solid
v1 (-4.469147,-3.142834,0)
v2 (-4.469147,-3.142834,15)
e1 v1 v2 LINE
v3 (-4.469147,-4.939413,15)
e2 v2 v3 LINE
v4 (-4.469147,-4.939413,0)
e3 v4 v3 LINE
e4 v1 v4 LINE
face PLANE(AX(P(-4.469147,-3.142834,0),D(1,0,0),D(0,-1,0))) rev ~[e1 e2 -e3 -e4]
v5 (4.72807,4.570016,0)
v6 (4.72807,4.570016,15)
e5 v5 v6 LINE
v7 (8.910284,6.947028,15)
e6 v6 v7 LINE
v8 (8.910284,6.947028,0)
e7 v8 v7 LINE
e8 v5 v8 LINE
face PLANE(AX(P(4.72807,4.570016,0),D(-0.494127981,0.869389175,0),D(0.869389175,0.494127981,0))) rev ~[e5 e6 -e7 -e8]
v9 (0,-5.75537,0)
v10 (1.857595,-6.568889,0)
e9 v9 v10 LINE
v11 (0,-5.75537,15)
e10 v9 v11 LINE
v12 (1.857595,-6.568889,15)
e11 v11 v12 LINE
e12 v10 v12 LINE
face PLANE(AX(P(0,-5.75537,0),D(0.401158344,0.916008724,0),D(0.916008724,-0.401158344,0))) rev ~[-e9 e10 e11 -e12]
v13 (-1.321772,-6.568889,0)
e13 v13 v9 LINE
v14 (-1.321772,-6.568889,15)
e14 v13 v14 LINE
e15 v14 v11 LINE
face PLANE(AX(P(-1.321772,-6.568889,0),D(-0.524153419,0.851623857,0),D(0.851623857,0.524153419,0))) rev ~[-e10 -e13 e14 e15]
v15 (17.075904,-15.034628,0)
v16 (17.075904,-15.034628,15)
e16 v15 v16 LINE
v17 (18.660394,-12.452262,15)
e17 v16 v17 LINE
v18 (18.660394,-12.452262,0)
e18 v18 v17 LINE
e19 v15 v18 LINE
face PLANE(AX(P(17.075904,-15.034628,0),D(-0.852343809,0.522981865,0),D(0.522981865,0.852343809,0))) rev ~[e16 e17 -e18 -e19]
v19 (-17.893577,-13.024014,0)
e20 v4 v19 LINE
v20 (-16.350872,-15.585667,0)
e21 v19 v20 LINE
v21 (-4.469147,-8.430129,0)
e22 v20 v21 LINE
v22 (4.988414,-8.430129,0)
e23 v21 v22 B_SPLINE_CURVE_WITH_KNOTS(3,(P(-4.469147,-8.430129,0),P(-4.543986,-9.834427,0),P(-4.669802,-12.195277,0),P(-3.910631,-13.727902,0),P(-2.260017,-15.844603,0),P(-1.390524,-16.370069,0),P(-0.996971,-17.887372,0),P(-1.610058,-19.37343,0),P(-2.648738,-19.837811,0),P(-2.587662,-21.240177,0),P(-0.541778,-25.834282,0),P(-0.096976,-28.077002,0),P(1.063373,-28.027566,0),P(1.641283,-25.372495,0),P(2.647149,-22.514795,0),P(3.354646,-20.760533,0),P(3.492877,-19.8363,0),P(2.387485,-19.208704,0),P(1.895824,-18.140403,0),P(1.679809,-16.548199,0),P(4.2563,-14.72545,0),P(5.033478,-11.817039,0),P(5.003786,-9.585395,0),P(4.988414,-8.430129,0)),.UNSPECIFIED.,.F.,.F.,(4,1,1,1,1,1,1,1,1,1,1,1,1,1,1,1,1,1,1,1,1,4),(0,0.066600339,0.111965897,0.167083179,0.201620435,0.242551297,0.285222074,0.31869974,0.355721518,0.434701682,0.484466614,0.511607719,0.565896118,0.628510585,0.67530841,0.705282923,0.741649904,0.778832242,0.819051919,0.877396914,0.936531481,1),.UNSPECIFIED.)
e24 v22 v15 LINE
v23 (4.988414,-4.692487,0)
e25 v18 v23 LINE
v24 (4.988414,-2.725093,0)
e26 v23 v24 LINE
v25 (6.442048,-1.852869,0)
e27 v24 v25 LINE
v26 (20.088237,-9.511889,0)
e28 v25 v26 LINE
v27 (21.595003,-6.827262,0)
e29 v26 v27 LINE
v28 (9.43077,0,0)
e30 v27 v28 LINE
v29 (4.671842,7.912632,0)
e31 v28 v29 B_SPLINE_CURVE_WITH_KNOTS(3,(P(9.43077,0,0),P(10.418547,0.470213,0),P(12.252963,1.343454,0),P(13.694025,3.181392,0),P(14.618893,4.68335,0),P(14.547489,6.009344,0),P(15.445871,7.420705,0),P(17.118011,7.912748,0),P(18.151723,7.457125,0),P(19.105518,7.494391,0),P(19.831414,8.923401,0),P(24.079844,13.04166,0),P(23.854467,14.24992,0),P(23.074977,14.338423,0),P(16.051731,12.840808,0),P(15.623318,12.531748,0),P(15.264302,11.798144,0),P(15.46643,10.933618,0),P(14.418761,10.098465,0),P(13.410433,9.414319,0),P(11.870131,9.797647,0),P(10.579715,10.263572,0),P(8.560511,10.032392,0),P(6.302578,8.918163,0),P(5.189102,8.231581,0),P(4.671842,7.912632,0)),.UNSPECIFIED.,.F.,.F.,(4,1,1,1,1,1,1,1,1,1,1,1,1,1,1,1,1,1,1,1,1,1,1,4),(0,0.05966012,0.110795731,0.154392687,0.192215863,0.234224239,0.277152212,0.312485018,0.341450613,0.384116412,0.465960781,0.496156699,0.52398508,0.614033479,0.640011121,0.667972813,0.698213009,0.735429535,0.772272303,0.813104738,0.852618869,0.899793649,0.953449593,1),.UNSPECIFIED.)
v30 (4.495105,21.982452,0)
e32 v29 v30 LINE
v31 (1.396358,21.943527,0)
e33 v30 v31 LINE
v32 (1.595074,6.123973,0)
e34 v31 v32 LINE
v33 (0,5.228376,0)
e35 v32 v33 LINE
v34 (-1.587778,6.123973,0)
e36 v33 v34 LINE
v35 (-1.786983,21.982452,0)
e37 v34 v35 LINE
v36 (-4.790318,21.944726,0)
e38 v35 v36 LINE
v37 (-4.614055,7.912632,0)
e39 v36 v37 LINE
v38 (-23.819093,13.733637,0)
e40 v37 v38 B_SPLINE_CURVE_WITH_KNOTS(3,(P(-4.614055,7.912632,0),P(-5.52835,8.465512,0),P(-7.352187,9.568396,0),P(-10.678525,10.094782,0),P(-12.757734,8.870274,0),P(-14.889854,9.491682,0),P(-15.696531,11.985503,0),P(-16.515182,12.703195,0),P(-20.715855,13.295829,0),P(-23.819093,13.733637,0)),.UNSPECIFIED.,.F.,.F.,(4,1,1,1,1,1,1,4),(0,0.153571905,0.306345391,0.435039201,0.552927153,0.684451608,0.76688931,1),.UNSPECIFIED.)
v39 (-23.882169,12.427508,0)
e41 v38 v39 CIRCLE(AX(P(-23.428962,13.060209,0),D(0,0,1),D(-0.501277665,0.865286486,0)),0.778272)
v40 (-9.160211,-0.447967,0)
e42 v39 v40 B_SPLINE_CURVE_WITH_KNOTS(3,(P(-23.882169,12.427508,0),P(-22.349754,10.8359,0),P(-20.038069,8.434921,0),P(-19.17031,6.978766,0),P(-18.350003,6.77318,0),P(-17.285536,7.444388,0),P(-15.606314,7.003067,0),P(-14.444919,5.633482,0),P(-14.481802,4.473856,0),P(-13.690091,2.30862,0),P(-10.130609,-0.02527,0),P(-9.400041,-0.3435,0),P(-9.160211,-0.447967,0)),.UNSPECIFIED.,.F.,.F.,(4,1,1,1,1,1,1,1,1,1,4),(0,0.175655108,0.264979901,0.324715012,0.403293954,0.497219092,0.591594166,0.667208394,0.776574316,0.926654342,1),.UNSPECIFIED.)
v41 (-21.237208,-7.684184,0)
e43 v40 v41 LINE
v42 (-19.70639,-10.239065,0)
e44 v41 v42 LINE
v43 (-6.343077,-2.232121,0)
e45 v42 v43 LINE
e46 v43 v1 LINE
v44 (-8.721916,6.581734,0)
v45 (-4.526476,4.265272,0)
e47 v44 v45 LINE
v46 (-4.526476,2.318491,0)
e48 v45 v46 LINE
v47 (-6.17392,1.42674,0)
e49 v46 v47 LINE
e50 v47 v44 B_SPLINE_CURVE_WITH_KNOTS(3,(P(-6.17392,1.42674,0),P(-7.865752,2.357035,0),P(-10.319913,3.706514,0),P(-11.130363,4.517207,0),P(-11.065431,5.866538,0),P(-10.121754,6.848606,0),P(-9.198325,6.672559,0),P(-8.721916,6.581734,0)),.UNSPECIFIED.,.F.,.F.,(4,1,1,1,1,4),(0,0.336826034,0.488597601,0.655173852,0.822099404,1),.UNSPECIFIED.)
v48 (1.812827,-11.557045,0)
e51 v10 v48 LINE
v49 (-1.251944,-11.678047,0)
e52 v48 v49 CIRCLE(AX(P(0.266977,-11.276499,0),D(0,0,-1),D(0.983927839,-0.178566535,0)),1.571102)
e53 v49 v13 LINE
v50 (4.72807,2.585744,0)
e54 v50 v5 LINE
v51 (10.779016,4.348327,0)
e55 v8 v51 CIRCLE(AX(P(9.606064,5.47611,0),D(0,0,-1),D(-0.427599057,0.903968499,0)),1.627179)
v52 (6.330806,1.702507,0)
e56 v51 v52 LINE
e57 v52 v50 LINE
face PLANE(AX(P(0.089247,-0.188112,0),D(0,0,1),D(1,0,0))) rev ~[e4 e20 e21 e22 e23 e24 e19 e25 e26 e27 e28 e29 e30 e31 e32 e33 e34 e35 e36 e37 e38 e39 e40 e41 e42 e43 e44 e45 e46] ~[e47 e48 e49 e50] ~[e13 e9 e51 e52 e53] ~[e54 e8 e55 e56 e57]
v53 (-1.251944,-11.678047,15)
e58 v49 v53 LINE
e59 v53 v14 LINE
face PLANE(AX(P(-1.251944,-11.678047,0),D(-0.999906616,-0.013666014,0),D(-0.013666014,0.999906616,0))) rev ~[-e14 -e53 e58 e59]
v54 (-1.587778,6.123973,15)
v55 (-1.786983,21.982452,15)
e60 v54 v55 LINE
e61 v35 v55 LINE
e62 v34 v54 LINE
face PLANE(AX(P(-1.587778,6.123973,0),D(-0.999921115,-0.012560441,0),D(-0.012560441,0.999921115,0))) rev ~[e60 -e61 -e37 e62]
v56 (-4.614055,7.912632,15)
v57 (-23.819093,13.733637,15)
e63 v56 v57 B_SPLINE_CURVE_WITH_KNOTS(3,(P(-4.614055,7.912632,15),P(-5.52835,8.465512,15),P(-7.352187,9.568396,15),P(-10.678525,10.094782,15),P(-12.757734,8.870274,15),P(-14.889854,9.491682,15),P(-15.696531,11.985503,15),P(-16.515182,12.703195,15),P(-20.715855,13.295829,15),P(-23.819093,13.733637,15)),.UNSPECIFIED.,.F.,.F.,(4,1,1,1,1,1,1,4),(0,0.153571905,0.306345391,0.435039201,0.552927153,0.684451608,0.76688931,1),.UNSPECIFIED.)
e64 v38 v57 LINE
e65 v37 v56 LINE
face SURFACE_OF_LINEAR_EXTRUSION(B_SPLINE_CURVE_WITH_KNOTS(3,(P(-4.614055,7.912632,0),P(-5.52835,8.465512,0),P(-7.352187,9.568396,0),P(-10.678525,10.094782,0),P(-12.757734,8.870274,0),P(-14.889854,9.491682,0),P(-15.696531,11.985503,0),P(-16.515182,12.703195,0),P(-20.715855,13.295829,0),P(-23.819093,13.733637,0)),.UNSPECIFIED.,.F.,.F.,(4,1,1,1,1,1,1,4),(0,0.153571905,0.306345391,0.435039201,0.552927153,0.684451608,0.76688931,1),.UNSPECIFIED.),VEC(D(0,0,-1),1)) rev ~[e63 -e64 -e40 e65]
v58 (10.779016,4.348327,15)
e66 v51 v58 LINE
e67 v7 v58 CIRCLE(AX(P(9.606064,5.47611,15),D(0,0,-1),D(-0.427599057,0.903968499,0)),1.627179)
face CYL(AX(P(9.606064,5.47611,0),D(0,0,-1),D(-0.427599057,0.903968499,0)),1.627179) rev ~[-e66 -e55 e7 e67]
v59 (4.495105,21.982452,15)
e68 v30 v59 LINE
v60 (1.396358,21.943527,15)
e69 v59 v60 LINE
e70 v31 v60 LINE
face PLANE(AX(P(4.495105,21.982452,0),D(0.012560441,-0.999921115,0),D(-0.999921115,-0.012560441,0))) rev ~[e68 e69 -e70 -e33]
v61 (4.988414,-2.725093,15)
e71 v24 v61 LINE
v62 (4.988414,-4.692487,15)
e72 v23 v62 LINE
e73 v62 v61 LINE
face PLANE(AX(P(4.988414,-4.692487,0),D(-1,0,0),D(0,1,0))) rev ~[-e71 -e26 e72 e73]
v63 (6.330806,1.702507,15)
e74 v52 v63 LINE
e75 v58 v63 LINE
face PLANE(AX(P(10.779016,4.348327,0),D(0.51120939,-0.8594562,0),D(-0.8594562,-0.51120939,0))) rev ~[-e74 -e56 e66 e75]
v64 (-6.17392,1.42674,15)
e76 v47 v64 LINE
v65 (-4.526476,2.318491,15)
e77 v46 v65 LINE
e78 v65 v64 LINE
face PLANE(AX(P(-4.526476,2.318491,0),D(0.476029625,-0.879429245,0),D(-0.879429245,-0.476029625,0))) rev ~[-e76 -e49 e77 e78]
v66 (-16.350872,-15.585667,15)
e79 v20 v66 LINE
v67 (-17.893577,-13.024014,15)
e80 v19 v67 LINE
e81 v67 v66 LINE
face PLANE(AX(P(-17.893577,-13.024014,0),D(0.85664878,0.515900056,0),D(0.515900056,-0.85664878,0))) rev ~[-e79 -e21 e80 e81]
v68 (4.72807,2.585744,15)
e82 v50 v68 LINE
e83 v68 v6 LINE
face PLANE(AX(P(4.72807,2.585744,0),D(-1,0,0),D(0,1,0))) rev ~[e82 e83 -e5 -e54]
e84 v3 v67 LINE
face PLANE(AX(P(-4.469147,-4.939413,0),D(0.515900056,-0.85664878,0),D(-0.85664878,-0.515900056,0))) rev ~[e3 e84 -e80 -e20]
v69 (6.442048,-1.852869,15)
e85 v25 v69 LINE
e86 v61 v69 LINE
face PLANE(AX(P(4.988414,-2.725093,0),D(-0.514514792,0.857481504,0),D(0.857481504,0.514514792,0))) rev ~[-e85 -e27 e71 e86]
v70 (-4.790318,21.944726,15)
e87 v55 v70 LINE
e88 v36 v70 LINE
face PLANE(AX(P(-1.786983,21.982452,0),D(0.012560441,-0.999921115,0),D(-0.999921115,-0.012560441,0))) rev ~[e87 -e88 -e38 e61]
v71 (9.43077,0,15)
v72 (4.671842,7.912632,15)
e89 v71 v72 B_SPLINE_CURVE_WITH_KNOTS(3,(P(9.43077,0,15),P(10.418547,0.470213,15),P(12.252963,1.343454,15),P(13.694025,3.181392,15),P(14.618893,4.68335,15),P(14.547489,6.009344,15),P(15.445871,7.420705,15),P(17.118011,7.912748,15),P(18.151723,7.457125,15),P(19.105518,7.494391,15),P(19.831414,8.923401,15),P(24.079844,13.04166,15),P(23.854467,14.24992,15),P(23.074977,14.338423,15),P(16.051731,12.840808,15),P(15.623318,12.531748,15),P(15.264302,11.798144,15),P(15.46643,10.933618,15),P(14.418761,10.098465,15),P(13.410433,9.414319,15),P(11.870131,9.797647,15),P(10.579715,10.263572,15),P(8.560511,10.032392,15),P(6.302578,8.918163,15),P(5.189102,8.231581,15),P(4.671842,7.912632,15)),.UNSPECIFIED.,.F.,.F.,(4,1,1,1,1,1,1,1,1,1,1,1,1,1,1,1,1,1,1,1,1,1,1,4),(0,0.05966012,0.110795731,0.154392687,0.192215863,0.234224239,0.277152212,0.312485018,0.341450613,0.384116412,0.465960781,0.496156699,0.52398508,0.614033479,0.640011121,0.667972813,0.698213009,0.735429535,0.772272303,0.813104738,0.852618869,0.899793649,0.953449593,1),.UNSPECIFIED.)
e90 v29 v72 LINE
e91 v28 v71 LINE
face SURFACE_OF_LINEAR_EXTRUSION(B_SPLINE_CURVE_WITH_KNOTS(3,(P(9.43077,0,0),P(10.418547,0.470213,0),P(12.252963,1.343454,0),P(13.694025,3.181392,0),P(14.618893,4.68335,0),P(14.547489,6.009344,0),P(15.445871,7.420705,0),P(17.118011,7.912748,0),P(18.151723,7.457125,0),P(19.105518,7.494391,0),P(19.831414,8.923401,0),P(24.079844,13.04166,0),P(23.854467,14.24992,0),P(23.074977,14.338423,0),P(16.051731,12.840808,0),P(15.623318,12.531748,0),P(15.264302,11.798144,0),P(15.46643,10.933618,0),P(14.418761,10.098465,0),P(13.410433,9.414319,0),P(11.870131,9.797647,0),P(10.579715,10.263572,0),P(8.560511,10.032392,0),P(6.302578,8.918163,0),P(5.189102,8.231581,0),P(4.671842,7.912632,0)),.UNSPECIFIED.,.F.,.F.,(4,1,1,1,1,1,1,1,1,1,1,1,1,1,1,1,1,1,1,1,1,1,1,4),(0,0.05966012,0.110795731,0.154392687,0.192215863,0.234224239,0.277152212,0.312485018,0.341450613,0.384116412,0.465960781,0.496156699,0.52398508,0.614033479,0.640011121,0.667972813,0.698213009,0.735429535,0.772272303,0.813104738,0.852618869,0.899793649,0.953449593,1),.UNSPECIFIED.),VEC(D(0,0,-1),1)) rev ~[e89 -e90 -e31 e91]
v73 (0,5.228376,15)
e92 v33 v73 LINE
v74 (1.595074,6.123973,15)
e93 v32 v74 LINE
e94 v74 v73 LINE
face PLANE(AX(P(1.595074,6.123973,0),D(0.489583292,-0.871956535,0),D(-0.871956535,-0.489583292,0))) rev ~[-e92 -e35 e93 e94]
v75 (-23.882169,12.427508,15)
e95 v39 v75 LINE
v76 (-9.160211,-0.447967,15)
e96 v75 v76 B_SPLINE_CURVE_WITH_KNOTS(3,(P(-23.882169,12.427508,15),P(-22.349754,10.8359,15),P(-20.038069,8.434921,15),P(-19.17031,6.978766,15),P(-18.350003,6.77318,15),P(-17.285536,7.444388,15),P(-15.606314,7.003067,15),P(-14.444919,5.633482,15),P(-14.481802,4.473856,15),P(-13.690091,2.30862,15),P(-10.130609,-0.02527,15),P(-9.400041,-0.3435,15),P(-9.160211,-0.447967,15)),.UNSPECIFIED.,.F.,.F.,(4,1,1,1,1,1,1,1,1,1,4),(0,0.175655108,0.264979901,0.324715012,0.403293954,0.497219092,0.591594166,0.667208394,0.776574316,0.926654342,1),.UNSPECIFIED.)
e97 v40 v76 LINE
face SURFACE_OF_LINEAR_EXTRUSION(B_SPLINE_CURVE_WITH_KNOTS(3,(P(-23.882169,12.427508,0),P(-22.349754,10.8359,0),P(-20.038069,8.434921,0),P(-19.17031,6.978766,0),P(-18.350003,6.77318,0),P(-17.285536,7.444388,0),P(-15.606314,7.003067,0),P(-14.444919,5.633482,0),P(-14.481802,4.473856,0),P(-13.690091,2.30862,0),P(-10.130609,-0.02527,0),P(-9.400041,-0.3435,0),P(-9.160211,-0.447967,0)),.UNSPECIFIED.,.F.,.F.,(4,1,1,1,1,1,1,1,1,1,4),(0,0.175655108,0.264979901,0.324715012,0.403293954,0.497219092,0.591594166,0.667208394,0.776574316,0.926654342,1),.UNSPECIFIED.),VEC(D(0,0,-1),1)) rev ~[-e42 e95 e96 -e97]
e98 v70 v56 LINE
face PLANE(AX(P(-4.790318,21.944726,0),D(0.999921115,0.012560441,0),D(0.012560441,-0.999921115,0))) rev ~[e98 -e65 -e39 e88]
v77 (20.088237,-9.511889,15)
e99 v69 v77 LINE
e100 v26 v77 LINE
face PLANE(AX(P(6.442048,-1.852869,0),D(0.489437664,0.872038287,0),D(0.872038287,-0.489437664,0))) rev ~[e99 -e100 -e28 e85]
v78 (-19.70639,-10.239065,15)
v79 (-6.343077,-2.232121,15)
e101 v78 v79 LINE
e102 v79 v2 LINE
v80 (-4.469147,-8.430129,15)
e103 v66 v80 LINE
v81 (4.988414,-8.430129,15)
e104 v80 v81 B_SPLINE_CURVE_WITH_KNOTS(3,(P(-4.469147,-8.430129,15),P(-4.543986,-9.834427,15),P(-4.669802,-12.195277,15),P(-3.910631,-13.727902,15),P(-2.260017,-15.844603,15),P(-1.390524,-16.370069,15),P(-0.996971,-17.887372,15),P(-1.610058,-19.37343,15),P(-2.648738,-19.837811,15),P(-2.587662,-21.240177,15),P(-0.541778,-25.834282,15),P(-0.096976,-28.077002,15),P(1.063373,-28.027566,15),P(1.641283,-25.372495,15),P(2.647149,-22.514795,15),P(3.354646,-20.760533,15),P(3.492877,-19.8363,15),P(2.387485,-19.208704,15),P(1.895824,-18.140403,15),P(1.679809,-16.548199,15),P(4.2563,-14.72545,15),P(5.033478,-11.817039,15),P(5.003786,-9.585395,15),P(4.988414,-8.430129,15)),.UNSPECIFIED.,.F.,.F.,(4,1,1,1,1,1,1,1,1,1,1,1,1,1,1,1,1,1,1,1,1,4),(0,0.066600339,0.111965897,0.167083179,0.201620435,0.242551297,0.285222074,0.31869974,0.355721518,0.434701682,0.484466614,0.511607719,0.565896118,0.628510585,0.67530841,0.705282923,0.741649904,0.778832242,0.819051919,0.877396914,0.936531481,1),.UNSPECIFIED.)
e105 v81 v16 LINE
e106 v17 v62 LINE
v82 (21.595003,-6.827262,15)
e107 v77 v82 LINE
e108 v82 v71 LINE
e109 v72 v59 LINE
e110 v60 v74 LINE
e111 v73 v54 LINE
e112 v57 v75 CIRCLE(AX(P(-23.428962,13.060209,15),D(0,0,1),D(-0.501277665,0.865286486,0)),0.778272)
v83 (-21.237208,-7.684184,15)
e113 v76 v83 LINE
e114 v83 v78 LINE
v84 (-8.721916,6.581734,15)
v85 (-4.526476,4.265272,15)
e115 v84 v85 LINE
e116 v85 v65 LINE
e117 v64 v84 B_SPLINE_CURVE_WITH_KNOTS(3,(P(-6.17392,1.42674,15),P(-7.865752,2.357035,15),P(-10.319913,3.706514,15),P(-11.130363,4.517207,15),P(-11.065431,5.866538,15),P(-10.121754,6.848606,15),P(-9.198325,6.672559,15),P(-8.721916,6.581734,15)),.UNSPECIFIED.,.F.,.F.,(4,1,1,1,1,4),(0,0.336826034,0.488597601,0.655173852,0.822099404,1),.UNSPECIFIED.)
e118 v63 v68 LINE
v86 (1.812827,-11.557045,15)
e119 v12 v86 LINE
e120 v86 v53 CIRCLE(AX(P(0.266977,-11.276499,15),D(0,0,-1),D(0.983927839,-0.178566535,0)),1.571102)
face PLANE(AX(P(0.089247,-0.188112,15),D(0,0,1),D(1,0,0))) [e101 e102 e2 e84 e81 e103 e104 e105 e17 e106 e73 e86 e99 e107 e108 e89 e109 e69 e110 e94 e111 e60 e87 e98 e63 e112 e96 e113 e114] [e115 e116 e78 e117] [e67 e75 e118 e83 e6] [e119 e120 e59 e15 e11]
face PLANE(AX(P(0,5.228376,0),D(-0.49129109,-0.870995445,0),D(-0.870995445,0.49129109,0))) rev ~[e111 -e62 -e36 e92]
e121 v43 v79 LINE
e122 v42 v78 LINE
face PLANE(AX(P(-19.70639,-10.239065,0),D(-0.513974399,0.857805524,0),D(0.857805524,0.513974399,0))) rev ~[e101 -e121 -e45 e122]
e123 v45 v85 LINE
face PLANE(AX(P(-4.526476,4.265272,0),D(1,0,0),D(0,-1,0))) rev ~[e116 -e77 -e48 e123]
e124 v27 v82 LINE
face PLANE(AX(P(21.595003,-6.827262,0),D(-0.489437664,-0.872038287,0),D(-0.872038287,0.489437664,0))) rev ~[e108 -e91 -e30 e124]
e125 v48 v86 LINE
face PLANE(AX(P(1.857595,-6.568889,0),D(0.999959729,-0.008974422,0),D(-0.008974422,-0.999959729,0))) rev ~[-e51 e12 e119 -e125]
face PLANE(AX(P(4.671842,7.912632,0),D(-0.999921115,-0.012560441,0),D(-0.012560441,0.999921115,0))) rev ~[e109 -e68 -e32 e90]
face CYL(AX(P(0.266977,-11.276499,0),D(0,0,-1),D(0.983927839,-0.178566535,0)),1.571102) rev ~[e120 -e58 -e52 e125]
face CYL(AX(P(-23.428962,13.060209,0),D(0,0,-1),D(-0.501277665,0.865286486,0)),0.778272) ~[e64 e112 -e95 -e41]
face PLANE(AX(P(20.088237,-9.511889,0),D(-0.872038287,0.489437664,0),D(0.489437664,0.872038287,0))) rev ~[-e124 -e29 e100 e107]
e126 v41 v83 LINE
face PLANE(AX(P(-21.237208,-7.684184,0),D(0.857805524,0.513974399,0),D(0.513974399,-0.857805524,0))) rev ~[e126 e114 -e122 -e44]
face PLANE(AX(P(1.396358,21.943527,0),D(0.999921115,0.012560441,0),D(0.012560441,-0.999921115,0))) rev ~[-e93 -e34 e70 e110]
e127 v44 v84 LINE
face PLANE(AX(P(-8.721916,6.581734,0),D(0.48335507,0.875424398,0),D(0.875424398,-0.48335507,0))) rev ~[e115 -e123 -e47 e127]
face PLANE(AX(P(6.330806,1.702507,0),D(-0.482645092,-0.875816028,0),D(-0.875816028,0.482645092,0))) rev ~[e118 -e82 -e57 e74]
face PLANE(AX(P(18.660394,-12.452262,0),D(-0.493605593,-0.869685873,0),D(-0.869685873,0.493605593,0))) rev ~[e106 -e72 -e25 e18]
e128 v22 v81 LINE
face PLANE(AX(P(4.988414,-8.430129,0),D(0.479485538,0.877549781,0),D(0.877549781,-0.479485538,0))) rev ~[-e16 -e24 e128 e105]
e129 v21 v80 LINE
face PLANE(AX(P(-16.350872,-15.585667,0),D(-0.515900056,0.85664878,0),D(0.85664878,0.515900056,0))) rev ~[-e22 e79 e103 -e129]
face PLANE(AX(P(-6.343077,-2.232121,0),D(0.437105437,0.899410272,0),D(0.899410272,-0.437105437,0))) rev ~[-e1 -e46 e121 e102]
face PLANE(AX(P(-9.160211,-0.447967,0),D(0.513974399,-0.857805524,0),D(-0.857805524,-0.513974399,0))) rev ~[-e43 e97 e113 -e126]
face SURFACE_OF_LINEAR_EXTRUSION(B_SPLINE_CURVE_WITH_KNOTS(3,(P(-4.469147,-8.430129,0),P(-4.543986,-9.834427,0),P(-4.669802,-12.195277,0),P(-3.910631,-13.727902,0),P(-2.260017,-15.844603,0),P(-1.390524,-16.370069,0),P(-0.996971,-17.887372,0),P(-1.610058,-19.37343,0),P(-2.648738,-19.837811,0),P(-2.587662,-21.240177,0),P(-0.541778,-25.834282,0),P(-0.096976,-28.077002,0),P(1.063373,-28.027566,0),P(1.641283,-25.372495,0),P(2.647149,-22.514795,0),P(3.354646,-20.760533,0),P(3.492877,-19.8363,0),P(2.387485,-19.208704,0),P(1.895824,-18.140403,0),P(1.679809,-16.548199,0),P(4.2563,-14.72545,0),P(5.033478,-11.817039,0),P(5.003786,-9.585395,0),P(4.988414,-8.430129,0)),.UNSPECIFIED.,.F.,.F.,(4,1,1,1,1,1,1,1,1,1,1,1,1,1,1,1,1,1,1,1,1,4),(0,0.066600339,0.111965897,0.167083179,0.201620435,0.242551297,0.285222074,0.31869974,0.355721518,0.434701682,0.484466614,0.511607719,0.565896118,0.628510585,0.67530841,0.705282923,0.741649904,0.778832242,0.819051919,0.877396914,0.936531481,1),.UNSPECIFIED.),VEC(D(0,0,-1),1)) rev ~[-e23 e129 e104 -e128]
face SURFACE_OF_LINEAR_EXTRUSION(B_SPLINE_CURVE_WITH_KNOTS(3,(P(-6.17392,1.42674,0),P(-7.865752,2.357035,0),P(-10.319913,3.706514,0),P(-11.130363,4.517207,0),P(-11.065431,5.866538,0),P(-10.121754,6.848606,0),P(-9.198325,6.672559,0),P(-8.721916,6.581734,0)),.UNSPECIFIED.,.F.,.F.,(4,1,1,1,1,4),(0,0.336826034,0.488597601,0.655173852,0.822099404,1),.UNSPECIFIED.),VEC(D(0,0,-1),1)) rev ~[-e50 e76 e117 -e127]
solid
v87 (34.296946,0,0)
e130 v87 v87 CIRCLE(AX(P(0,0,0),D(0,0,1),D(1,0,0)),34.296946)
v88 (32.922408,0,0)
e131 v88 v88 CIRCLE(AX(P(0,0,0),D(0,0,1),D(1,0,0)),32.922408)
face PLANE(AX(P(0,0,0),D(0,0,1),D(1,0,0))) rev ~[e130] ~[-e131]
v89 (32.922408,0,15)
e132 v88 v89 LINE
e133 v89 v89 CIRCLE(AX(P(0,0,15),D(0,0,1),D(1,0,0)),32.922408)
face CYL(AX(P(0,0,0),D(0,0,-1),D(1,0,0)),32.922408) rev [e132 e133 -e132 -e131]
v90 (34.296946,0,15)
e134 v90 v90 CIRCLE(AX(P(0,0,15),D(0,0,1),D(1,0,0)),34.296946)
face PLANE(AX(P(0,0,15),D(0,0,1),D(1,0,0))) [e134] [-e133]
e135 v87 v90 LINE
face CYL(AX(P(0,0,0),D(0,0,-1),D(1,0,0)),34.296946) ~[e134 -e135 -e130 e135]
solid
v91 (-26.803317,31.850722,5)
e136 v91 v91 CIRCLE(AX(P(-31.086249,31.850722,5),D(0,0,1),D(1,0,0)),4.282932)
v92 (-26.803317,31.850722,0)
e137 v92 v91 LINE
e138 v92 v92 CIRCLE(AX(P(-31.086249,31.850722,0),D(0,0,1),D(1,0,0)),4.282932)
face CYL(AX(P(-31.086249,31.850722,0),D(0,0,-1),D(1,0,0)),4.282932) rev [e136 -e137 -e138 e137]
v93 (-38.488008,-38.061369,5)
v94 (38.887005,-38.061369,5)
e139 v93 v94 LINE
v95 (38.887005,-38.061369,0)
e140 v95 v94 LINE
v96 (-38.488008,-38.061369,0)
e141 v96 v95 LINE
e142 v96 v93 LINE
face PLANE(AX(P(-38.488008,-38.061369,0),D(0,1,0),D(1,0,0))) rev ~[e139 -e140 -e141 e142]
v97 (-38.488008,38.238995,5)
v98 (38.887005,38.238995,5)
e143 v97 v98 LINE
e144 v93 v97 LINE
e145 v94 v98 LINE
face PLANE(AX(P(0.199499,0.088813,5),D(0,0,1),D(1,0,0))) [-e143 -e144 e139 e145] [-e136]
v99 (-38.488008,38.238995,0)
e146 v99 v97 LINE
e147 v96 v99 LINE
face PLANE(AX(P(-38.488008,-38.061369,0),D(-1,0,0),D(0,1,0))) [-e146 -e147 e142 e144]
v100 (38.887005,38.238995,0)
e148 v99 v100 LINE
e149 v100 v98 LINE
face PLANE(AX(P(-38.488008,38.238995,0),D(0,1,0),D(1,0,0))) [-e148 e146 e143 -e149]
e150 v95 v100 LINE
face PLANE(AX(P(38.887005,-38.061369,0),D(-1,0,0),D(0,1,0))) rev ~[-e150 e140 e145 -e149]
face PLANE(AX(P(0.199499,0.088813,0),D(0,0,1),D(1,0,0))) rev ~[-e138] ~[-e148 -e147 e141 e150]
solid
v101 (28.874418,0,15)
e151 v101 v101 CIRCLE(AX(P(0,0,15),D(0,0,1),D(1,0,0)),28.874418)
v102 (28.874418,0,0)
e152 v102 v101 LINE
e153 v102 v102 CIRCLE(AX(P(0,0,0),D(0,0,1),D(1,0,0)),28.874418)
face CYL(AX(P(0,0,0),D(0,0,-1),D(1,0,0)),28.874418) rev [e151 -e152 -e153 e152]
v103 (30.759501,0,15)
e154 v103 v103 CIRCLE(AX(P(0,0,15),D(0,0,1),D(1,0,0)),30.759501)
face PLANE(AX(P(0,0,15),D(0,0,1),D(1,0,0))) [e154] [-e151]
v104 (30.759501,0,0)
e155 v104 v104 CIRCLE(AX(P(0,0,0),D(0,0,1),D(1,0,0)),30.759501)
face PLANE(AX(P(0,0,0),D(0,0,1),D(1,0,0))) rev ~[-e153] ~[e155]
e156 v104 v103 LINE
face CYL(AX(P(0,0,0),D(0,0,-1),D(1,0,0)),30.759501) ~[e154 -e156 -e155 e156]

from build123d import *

# Parameters (mm, degrees)
F1_DEPTH = 15
F0_R     = 34.2969459838
F0_R_2   = 32.9224081402
F0_R_3   = 30.7595014755
F0_R_4   = 28.8744177806
F2_W     = 77.3750133812
F2_H     = 76.3003639877
F2_R     = 4.2829324223
F3_DEPTH = 5


with BuildPart() as f1:
    # F0 (on Top) → F1 (new body)
    with BuildSketch(Plane.XY):
        with BuildLine():
            ThreePointArc((-23.8190926611, 13.7336365879), (-24.2063281341, 13.0977498569), (-23.8821692765, 12.4275078997))
            add(Edge.make_bspline(
                [(-23.8821692765, 12.4275078997), (-22.3497539643, 10.8358997236), (-20.0380690862, 8.434921005), (-19.1703099364, 6.9787664347), (-18.3500026061, 6.7731804786), (-17.2855359186, 7.4443884438), (-15.606313992, 7.003067133), (-14.4449188573, 5.6334818271), (-14.4818018665, 4.4738562142), (-13.6900912288, 2.3086198184), (-10.1306088511, -0.0252702317), (-9.4000405533, -0.3434996567), (-9.1602113098, -0.4479672643)],
                knots=[0, 0, 0, 0, 0.1756551085, 0.2649799012, 0.324715012, 0.4032939543, 0.4972190916, 0.5915941664, 0.6672083939, 0.7765743156, 0.9266543415, 1, 1, 1, 1], degree=3))
            Line((-9.1602113098, -0.4479672643), (-21.2372075766, -7.6841842383))
            Line((-21.2372075766, -7.6841842383), (-19.7063903422, -10.2390653442))
            Line((-19.7063903422, -10.2390653442), (-6.3430766054, -2.232120939))
            Line((-6.3430766054, -2.232120939), (-4.469146952, -3.1428341754))
            Line((-4.469146952, -3.1428341754), (-4.469146952, -4.9394126981))
            Line((-4.469146952, -4.9394126981), (-17.8935769945, -13.0240144208))
            Line((-17.8935769945, -13.0240144208), (-16.3508716678, -15.5856668615))
            Line((-16.3508716678, -15.5856668615), (-4.469146952, -8.4301293973))
            add(Edge.make_bspline(
                [(-4.469146952, -8.4301293973), (-4.543985887, -9.8344267619), (-4.6698021898, -12.1952768005), (-3.9106313358, -13.727901736), (-2.2600165312, -15.8446026196), (-1.390523665, -16.3700694686), (-0.9969710788, -17.887371931), (-1.6100583116, -19.3734301697), (-2.6487381328, -19.8378105659), (-2.5876618953, -21.240177154), (-0.5417779256, -25.8342817595), (-0.0969760678, -28.0770016838), (1.0633732658, -28.0275659454), (1.6412829897, -25.372494771), (2.6471487812, -22.5147945774), (3.354645513, -20.7605330243), (3.4928771504, -19.8362998006), (2.3874846441, -19.2087036938), (1.8958241851, -18.140402895), (1.6798086272, -16.5481988812), (4.2562995618, -14.7254498449), (5.033478482, -11.8170394014), (5.0037855275, -9.5853952007), (4.9884142354, -8.4301293973)],
                knots=[0, 0, 0, 0, 0.0666003393, 0.1119658967, 0.1670831793, 0.2016204349, 0.2425512971, 0.2852220739, 0.3186997404, 0.355721518, 0.4347016817, 0.4844666138, 0.5116077192, 0.5658961177, 0.6285105846, 0.6753084098, 0.7052829233, 0.7416499039, 0.7788322419, 0.8190519193, 0.8773969141, 0.9365314809, 1, 1, 1, 1], degree=3))
            Line((4.9884142354, -8.4301293973), (17.0759037137, -15.0346281007))
            Line((17.0759037137, -15.0346281007), (18.6603944749, -12.4522615224))
            Line((18.6603944749, -12.4522615224), (4.9884142354, -4.6924874187))
            Line((4.9884142354, -4.6924874187), (4.9884142354, -2.7250931598))
            Line((4.9884142354, -2.7250931598), (6.4420481212, -1.8528689397))
            Line((6.4420481212, -1.8528689397), (20.088236779, -9.5118889585))
            Line((20.088236779, -9.5118889585), (21.5950027013, -6.8272619451))
            Line((21.5950027013, -6.8272619451), (9.4307696414, 0))
            add(Edge.make_bspline(
                [(9.4307696414, 0), (10.4185468848, 0.4702132327), (12.252963284, 1.3434535013), (13.6940249732, 3.1813919833), (14.6188929173, 4.6833500621), (14.5474891452, 6.0093441013), (15.4458713213, 7.4207050964), (17.1180114342, 7.9127478106), (18.151722758, 7.4571248204), (19.1055180901, 7.4943906606), (19.8314143372, 8.9234005529), (24.0798436701, 13.0416601846), (23.8544667472, 14.2499198291), (23.0749769236, 14.3384225726), (16.0517313251, 12.8408080467), (15.6233175717, 12.5317479023), (15.2643021979, 11.7981436042), (15.4664296172, 10.9336176542), (14.418760532, 10.0984654925), (13.4104334602, 9.4143186428), (11.870131024, 9.7976466891), (10.5797150073, 10.26357152), (8.560510761, 10.0323921361), (6.3025777782, 8.918163458), (5.1891023157, 8.2315809), (4.6718423255, 7.9126320779)],
                knots=[0, 0, 0, 0, 0.0596601198, 0.1107957314, 0.1543926866, 0.1922158634, 0.2342242387, 0.2771522115, 0.3124850182, 0.3414506133, 0.384116412, 0.4659607809, 0.4961566992, 0.5239850797, 0.6140334791, 0.6400111212, 0.6679728129, 0.6982130091, 0.7354295351, 0.7722723027, 0.8131047381, 0.8526188688, 0.8997936486, 0.9534495927, 1, 1, 1, 1], degree=3))
            Line((4.6718423255, 7.9126320779), (4.4951052405, 21.9824519008))
            Line((4.4951052405, 21.9824519008), (1.3963579744, 21.9435271978))
            Line((1.3963579744, 21.9435271978), (1.5950742339, 6.1239725939))
            Line((1.5950742339, 6.1239725939), (0, 5.2283755504))
            Line((0, 5.2283755504), (-1.5877775149, 6.1239725939))
            Line((-1.5877775149, 6.1239725939), (-1.7869827244, 21.9824519008))
            Line((-1.7869827244, 21.9824519008), (-4.790317812, 21.9447257114))
            Line((-4.790317812, 21.9447257114), (-4.614054622, 7.9126320779))
            add(Edge.make_bspline(
                [(-4.614054622, 7.9126320779), (-5.5283499763, 8.4655115111), (-7.3521872657, 9.5683959587), (-10.6785252685, 10.0947815068), (-12.7577339227, 8.8702735759), (-14.8898540254, 9.4916824063), (-15.6965314776, 11.9855025825), (-16.5151823583, 12.7031946368), (-20.7158549258, 13.2958291376), (-23.8190926611, 13.7336365879)],
                knots=[0, 0, 0, 0, 0.1535719054, 0.3063453909, 0.4350392014, 0.5529271528, 0.6844516075, 0.7668893104, 1, 1, 1, 1], degree=3))
        make_face()
        with BuildLine():
            ThreePointArc((1.8128274241, -11.5570453927), (0.3289579514, -12.8463779037), (-1.2519439915, -11.6780474782))
            Line((-1.2519439915, -11.6780474782), (-1.3217723463, -6.568888668))
            Line((-1.3217723463, -6.568888668), (0, -5.7553704828))
            Line((0, -5.7553704828), (1.8575950526, -6.568888668))
            Line((1.8575950526, -6.568888668), (1.8128274241, -11.5570453927))
        make_face(mode=Mode.SUBTRACT)
        with BuildLine():
            Line((-4.5264759101, 2.3184912279), (-6.1739198864, 1.4267399674))
            add(Edge.make_bspline(
                [(-6.1739198864, 1.4267399674), (-7.8657521842, 2.3570348742), (-10.3199128426, 3.7065144674), (-11.1303627307, 4.5172071833), (-11.0654310686, 5.8665375201), (-10.1217535618, 6.8486055785), (-9.1983254069, 6.6725588733), (-8.721916005, 6.5817339346)],
                knots=[0, 0, 0, 0, 0.3368260344, 0.4885976012, 0.6551738517, 0.8220994041, 1, 1, 1, 1], degree=3))
            Line((-8.721916005, 6.5817339346), (-4.5264759101, 4.2652720585))
            Line((-4.5264759101, 4.2652720585), (-4.5264759101, 2.3184912279))
        make_face(mode=Mode.SUBTRACT)
        with BuildLine():
            ThreePointArc((8.9102843776, 6.9470284507), (10.927138013, 6.426096909), (10.7790157199, 4.3483269401))
            Line((10.7790157199, 4.3483269401), (6.3308062963, 1.7025069101))
            Line((6.3308062963, 1.7025069101), (4.7280699946, 2.5857435539))
            Line((4.7280699946, 2.5857435539), (4.7280699946, 4.5700157061))
            Line((4.7280699946, 4.5700157061), (8.9102843776, 6.9470284507))
        make_face(mode=Mode.SUBTRACT)
    extrude(amount=F1_DEPTH)


with BuildPart() as f1b:
    # F0 (on Top) → F1, piece 2 (new body)
    with BuildSketch(Plane.XY):
        Circle(F0_R)
        Circle(F0_R_2, mode=Mode.SUBTRACT)
    extrude(amount=F1_DEPTH)


with BuildPart() as f1c:
    # F0 (on Top) → F1, piece 3 (new body)
    with BuildSketch(Plane.XY):
        Circle(F0_R_3)
        Circle(F0_R_4, mode=Mode.SUBTRACT)
    extrude(amount=F1_DEPTH)


with BuildPart() as f3:
    # F2 (on Top) → F3 (new body)
    with BuildSketch(Plane.XY):
        with Locations((0.1994986087, 0.0888127834)):
            Rectangle(F2_W, F2_H)
        with Locations((-31.086249277, 31.8507216871)):
            Circle(F2_R, mode=Mode.SUBTRACT)
    extrude(amount=F3_DEPTH)


solid = Compound([f1.part, f1b.part, f1c.part, f3.part])
